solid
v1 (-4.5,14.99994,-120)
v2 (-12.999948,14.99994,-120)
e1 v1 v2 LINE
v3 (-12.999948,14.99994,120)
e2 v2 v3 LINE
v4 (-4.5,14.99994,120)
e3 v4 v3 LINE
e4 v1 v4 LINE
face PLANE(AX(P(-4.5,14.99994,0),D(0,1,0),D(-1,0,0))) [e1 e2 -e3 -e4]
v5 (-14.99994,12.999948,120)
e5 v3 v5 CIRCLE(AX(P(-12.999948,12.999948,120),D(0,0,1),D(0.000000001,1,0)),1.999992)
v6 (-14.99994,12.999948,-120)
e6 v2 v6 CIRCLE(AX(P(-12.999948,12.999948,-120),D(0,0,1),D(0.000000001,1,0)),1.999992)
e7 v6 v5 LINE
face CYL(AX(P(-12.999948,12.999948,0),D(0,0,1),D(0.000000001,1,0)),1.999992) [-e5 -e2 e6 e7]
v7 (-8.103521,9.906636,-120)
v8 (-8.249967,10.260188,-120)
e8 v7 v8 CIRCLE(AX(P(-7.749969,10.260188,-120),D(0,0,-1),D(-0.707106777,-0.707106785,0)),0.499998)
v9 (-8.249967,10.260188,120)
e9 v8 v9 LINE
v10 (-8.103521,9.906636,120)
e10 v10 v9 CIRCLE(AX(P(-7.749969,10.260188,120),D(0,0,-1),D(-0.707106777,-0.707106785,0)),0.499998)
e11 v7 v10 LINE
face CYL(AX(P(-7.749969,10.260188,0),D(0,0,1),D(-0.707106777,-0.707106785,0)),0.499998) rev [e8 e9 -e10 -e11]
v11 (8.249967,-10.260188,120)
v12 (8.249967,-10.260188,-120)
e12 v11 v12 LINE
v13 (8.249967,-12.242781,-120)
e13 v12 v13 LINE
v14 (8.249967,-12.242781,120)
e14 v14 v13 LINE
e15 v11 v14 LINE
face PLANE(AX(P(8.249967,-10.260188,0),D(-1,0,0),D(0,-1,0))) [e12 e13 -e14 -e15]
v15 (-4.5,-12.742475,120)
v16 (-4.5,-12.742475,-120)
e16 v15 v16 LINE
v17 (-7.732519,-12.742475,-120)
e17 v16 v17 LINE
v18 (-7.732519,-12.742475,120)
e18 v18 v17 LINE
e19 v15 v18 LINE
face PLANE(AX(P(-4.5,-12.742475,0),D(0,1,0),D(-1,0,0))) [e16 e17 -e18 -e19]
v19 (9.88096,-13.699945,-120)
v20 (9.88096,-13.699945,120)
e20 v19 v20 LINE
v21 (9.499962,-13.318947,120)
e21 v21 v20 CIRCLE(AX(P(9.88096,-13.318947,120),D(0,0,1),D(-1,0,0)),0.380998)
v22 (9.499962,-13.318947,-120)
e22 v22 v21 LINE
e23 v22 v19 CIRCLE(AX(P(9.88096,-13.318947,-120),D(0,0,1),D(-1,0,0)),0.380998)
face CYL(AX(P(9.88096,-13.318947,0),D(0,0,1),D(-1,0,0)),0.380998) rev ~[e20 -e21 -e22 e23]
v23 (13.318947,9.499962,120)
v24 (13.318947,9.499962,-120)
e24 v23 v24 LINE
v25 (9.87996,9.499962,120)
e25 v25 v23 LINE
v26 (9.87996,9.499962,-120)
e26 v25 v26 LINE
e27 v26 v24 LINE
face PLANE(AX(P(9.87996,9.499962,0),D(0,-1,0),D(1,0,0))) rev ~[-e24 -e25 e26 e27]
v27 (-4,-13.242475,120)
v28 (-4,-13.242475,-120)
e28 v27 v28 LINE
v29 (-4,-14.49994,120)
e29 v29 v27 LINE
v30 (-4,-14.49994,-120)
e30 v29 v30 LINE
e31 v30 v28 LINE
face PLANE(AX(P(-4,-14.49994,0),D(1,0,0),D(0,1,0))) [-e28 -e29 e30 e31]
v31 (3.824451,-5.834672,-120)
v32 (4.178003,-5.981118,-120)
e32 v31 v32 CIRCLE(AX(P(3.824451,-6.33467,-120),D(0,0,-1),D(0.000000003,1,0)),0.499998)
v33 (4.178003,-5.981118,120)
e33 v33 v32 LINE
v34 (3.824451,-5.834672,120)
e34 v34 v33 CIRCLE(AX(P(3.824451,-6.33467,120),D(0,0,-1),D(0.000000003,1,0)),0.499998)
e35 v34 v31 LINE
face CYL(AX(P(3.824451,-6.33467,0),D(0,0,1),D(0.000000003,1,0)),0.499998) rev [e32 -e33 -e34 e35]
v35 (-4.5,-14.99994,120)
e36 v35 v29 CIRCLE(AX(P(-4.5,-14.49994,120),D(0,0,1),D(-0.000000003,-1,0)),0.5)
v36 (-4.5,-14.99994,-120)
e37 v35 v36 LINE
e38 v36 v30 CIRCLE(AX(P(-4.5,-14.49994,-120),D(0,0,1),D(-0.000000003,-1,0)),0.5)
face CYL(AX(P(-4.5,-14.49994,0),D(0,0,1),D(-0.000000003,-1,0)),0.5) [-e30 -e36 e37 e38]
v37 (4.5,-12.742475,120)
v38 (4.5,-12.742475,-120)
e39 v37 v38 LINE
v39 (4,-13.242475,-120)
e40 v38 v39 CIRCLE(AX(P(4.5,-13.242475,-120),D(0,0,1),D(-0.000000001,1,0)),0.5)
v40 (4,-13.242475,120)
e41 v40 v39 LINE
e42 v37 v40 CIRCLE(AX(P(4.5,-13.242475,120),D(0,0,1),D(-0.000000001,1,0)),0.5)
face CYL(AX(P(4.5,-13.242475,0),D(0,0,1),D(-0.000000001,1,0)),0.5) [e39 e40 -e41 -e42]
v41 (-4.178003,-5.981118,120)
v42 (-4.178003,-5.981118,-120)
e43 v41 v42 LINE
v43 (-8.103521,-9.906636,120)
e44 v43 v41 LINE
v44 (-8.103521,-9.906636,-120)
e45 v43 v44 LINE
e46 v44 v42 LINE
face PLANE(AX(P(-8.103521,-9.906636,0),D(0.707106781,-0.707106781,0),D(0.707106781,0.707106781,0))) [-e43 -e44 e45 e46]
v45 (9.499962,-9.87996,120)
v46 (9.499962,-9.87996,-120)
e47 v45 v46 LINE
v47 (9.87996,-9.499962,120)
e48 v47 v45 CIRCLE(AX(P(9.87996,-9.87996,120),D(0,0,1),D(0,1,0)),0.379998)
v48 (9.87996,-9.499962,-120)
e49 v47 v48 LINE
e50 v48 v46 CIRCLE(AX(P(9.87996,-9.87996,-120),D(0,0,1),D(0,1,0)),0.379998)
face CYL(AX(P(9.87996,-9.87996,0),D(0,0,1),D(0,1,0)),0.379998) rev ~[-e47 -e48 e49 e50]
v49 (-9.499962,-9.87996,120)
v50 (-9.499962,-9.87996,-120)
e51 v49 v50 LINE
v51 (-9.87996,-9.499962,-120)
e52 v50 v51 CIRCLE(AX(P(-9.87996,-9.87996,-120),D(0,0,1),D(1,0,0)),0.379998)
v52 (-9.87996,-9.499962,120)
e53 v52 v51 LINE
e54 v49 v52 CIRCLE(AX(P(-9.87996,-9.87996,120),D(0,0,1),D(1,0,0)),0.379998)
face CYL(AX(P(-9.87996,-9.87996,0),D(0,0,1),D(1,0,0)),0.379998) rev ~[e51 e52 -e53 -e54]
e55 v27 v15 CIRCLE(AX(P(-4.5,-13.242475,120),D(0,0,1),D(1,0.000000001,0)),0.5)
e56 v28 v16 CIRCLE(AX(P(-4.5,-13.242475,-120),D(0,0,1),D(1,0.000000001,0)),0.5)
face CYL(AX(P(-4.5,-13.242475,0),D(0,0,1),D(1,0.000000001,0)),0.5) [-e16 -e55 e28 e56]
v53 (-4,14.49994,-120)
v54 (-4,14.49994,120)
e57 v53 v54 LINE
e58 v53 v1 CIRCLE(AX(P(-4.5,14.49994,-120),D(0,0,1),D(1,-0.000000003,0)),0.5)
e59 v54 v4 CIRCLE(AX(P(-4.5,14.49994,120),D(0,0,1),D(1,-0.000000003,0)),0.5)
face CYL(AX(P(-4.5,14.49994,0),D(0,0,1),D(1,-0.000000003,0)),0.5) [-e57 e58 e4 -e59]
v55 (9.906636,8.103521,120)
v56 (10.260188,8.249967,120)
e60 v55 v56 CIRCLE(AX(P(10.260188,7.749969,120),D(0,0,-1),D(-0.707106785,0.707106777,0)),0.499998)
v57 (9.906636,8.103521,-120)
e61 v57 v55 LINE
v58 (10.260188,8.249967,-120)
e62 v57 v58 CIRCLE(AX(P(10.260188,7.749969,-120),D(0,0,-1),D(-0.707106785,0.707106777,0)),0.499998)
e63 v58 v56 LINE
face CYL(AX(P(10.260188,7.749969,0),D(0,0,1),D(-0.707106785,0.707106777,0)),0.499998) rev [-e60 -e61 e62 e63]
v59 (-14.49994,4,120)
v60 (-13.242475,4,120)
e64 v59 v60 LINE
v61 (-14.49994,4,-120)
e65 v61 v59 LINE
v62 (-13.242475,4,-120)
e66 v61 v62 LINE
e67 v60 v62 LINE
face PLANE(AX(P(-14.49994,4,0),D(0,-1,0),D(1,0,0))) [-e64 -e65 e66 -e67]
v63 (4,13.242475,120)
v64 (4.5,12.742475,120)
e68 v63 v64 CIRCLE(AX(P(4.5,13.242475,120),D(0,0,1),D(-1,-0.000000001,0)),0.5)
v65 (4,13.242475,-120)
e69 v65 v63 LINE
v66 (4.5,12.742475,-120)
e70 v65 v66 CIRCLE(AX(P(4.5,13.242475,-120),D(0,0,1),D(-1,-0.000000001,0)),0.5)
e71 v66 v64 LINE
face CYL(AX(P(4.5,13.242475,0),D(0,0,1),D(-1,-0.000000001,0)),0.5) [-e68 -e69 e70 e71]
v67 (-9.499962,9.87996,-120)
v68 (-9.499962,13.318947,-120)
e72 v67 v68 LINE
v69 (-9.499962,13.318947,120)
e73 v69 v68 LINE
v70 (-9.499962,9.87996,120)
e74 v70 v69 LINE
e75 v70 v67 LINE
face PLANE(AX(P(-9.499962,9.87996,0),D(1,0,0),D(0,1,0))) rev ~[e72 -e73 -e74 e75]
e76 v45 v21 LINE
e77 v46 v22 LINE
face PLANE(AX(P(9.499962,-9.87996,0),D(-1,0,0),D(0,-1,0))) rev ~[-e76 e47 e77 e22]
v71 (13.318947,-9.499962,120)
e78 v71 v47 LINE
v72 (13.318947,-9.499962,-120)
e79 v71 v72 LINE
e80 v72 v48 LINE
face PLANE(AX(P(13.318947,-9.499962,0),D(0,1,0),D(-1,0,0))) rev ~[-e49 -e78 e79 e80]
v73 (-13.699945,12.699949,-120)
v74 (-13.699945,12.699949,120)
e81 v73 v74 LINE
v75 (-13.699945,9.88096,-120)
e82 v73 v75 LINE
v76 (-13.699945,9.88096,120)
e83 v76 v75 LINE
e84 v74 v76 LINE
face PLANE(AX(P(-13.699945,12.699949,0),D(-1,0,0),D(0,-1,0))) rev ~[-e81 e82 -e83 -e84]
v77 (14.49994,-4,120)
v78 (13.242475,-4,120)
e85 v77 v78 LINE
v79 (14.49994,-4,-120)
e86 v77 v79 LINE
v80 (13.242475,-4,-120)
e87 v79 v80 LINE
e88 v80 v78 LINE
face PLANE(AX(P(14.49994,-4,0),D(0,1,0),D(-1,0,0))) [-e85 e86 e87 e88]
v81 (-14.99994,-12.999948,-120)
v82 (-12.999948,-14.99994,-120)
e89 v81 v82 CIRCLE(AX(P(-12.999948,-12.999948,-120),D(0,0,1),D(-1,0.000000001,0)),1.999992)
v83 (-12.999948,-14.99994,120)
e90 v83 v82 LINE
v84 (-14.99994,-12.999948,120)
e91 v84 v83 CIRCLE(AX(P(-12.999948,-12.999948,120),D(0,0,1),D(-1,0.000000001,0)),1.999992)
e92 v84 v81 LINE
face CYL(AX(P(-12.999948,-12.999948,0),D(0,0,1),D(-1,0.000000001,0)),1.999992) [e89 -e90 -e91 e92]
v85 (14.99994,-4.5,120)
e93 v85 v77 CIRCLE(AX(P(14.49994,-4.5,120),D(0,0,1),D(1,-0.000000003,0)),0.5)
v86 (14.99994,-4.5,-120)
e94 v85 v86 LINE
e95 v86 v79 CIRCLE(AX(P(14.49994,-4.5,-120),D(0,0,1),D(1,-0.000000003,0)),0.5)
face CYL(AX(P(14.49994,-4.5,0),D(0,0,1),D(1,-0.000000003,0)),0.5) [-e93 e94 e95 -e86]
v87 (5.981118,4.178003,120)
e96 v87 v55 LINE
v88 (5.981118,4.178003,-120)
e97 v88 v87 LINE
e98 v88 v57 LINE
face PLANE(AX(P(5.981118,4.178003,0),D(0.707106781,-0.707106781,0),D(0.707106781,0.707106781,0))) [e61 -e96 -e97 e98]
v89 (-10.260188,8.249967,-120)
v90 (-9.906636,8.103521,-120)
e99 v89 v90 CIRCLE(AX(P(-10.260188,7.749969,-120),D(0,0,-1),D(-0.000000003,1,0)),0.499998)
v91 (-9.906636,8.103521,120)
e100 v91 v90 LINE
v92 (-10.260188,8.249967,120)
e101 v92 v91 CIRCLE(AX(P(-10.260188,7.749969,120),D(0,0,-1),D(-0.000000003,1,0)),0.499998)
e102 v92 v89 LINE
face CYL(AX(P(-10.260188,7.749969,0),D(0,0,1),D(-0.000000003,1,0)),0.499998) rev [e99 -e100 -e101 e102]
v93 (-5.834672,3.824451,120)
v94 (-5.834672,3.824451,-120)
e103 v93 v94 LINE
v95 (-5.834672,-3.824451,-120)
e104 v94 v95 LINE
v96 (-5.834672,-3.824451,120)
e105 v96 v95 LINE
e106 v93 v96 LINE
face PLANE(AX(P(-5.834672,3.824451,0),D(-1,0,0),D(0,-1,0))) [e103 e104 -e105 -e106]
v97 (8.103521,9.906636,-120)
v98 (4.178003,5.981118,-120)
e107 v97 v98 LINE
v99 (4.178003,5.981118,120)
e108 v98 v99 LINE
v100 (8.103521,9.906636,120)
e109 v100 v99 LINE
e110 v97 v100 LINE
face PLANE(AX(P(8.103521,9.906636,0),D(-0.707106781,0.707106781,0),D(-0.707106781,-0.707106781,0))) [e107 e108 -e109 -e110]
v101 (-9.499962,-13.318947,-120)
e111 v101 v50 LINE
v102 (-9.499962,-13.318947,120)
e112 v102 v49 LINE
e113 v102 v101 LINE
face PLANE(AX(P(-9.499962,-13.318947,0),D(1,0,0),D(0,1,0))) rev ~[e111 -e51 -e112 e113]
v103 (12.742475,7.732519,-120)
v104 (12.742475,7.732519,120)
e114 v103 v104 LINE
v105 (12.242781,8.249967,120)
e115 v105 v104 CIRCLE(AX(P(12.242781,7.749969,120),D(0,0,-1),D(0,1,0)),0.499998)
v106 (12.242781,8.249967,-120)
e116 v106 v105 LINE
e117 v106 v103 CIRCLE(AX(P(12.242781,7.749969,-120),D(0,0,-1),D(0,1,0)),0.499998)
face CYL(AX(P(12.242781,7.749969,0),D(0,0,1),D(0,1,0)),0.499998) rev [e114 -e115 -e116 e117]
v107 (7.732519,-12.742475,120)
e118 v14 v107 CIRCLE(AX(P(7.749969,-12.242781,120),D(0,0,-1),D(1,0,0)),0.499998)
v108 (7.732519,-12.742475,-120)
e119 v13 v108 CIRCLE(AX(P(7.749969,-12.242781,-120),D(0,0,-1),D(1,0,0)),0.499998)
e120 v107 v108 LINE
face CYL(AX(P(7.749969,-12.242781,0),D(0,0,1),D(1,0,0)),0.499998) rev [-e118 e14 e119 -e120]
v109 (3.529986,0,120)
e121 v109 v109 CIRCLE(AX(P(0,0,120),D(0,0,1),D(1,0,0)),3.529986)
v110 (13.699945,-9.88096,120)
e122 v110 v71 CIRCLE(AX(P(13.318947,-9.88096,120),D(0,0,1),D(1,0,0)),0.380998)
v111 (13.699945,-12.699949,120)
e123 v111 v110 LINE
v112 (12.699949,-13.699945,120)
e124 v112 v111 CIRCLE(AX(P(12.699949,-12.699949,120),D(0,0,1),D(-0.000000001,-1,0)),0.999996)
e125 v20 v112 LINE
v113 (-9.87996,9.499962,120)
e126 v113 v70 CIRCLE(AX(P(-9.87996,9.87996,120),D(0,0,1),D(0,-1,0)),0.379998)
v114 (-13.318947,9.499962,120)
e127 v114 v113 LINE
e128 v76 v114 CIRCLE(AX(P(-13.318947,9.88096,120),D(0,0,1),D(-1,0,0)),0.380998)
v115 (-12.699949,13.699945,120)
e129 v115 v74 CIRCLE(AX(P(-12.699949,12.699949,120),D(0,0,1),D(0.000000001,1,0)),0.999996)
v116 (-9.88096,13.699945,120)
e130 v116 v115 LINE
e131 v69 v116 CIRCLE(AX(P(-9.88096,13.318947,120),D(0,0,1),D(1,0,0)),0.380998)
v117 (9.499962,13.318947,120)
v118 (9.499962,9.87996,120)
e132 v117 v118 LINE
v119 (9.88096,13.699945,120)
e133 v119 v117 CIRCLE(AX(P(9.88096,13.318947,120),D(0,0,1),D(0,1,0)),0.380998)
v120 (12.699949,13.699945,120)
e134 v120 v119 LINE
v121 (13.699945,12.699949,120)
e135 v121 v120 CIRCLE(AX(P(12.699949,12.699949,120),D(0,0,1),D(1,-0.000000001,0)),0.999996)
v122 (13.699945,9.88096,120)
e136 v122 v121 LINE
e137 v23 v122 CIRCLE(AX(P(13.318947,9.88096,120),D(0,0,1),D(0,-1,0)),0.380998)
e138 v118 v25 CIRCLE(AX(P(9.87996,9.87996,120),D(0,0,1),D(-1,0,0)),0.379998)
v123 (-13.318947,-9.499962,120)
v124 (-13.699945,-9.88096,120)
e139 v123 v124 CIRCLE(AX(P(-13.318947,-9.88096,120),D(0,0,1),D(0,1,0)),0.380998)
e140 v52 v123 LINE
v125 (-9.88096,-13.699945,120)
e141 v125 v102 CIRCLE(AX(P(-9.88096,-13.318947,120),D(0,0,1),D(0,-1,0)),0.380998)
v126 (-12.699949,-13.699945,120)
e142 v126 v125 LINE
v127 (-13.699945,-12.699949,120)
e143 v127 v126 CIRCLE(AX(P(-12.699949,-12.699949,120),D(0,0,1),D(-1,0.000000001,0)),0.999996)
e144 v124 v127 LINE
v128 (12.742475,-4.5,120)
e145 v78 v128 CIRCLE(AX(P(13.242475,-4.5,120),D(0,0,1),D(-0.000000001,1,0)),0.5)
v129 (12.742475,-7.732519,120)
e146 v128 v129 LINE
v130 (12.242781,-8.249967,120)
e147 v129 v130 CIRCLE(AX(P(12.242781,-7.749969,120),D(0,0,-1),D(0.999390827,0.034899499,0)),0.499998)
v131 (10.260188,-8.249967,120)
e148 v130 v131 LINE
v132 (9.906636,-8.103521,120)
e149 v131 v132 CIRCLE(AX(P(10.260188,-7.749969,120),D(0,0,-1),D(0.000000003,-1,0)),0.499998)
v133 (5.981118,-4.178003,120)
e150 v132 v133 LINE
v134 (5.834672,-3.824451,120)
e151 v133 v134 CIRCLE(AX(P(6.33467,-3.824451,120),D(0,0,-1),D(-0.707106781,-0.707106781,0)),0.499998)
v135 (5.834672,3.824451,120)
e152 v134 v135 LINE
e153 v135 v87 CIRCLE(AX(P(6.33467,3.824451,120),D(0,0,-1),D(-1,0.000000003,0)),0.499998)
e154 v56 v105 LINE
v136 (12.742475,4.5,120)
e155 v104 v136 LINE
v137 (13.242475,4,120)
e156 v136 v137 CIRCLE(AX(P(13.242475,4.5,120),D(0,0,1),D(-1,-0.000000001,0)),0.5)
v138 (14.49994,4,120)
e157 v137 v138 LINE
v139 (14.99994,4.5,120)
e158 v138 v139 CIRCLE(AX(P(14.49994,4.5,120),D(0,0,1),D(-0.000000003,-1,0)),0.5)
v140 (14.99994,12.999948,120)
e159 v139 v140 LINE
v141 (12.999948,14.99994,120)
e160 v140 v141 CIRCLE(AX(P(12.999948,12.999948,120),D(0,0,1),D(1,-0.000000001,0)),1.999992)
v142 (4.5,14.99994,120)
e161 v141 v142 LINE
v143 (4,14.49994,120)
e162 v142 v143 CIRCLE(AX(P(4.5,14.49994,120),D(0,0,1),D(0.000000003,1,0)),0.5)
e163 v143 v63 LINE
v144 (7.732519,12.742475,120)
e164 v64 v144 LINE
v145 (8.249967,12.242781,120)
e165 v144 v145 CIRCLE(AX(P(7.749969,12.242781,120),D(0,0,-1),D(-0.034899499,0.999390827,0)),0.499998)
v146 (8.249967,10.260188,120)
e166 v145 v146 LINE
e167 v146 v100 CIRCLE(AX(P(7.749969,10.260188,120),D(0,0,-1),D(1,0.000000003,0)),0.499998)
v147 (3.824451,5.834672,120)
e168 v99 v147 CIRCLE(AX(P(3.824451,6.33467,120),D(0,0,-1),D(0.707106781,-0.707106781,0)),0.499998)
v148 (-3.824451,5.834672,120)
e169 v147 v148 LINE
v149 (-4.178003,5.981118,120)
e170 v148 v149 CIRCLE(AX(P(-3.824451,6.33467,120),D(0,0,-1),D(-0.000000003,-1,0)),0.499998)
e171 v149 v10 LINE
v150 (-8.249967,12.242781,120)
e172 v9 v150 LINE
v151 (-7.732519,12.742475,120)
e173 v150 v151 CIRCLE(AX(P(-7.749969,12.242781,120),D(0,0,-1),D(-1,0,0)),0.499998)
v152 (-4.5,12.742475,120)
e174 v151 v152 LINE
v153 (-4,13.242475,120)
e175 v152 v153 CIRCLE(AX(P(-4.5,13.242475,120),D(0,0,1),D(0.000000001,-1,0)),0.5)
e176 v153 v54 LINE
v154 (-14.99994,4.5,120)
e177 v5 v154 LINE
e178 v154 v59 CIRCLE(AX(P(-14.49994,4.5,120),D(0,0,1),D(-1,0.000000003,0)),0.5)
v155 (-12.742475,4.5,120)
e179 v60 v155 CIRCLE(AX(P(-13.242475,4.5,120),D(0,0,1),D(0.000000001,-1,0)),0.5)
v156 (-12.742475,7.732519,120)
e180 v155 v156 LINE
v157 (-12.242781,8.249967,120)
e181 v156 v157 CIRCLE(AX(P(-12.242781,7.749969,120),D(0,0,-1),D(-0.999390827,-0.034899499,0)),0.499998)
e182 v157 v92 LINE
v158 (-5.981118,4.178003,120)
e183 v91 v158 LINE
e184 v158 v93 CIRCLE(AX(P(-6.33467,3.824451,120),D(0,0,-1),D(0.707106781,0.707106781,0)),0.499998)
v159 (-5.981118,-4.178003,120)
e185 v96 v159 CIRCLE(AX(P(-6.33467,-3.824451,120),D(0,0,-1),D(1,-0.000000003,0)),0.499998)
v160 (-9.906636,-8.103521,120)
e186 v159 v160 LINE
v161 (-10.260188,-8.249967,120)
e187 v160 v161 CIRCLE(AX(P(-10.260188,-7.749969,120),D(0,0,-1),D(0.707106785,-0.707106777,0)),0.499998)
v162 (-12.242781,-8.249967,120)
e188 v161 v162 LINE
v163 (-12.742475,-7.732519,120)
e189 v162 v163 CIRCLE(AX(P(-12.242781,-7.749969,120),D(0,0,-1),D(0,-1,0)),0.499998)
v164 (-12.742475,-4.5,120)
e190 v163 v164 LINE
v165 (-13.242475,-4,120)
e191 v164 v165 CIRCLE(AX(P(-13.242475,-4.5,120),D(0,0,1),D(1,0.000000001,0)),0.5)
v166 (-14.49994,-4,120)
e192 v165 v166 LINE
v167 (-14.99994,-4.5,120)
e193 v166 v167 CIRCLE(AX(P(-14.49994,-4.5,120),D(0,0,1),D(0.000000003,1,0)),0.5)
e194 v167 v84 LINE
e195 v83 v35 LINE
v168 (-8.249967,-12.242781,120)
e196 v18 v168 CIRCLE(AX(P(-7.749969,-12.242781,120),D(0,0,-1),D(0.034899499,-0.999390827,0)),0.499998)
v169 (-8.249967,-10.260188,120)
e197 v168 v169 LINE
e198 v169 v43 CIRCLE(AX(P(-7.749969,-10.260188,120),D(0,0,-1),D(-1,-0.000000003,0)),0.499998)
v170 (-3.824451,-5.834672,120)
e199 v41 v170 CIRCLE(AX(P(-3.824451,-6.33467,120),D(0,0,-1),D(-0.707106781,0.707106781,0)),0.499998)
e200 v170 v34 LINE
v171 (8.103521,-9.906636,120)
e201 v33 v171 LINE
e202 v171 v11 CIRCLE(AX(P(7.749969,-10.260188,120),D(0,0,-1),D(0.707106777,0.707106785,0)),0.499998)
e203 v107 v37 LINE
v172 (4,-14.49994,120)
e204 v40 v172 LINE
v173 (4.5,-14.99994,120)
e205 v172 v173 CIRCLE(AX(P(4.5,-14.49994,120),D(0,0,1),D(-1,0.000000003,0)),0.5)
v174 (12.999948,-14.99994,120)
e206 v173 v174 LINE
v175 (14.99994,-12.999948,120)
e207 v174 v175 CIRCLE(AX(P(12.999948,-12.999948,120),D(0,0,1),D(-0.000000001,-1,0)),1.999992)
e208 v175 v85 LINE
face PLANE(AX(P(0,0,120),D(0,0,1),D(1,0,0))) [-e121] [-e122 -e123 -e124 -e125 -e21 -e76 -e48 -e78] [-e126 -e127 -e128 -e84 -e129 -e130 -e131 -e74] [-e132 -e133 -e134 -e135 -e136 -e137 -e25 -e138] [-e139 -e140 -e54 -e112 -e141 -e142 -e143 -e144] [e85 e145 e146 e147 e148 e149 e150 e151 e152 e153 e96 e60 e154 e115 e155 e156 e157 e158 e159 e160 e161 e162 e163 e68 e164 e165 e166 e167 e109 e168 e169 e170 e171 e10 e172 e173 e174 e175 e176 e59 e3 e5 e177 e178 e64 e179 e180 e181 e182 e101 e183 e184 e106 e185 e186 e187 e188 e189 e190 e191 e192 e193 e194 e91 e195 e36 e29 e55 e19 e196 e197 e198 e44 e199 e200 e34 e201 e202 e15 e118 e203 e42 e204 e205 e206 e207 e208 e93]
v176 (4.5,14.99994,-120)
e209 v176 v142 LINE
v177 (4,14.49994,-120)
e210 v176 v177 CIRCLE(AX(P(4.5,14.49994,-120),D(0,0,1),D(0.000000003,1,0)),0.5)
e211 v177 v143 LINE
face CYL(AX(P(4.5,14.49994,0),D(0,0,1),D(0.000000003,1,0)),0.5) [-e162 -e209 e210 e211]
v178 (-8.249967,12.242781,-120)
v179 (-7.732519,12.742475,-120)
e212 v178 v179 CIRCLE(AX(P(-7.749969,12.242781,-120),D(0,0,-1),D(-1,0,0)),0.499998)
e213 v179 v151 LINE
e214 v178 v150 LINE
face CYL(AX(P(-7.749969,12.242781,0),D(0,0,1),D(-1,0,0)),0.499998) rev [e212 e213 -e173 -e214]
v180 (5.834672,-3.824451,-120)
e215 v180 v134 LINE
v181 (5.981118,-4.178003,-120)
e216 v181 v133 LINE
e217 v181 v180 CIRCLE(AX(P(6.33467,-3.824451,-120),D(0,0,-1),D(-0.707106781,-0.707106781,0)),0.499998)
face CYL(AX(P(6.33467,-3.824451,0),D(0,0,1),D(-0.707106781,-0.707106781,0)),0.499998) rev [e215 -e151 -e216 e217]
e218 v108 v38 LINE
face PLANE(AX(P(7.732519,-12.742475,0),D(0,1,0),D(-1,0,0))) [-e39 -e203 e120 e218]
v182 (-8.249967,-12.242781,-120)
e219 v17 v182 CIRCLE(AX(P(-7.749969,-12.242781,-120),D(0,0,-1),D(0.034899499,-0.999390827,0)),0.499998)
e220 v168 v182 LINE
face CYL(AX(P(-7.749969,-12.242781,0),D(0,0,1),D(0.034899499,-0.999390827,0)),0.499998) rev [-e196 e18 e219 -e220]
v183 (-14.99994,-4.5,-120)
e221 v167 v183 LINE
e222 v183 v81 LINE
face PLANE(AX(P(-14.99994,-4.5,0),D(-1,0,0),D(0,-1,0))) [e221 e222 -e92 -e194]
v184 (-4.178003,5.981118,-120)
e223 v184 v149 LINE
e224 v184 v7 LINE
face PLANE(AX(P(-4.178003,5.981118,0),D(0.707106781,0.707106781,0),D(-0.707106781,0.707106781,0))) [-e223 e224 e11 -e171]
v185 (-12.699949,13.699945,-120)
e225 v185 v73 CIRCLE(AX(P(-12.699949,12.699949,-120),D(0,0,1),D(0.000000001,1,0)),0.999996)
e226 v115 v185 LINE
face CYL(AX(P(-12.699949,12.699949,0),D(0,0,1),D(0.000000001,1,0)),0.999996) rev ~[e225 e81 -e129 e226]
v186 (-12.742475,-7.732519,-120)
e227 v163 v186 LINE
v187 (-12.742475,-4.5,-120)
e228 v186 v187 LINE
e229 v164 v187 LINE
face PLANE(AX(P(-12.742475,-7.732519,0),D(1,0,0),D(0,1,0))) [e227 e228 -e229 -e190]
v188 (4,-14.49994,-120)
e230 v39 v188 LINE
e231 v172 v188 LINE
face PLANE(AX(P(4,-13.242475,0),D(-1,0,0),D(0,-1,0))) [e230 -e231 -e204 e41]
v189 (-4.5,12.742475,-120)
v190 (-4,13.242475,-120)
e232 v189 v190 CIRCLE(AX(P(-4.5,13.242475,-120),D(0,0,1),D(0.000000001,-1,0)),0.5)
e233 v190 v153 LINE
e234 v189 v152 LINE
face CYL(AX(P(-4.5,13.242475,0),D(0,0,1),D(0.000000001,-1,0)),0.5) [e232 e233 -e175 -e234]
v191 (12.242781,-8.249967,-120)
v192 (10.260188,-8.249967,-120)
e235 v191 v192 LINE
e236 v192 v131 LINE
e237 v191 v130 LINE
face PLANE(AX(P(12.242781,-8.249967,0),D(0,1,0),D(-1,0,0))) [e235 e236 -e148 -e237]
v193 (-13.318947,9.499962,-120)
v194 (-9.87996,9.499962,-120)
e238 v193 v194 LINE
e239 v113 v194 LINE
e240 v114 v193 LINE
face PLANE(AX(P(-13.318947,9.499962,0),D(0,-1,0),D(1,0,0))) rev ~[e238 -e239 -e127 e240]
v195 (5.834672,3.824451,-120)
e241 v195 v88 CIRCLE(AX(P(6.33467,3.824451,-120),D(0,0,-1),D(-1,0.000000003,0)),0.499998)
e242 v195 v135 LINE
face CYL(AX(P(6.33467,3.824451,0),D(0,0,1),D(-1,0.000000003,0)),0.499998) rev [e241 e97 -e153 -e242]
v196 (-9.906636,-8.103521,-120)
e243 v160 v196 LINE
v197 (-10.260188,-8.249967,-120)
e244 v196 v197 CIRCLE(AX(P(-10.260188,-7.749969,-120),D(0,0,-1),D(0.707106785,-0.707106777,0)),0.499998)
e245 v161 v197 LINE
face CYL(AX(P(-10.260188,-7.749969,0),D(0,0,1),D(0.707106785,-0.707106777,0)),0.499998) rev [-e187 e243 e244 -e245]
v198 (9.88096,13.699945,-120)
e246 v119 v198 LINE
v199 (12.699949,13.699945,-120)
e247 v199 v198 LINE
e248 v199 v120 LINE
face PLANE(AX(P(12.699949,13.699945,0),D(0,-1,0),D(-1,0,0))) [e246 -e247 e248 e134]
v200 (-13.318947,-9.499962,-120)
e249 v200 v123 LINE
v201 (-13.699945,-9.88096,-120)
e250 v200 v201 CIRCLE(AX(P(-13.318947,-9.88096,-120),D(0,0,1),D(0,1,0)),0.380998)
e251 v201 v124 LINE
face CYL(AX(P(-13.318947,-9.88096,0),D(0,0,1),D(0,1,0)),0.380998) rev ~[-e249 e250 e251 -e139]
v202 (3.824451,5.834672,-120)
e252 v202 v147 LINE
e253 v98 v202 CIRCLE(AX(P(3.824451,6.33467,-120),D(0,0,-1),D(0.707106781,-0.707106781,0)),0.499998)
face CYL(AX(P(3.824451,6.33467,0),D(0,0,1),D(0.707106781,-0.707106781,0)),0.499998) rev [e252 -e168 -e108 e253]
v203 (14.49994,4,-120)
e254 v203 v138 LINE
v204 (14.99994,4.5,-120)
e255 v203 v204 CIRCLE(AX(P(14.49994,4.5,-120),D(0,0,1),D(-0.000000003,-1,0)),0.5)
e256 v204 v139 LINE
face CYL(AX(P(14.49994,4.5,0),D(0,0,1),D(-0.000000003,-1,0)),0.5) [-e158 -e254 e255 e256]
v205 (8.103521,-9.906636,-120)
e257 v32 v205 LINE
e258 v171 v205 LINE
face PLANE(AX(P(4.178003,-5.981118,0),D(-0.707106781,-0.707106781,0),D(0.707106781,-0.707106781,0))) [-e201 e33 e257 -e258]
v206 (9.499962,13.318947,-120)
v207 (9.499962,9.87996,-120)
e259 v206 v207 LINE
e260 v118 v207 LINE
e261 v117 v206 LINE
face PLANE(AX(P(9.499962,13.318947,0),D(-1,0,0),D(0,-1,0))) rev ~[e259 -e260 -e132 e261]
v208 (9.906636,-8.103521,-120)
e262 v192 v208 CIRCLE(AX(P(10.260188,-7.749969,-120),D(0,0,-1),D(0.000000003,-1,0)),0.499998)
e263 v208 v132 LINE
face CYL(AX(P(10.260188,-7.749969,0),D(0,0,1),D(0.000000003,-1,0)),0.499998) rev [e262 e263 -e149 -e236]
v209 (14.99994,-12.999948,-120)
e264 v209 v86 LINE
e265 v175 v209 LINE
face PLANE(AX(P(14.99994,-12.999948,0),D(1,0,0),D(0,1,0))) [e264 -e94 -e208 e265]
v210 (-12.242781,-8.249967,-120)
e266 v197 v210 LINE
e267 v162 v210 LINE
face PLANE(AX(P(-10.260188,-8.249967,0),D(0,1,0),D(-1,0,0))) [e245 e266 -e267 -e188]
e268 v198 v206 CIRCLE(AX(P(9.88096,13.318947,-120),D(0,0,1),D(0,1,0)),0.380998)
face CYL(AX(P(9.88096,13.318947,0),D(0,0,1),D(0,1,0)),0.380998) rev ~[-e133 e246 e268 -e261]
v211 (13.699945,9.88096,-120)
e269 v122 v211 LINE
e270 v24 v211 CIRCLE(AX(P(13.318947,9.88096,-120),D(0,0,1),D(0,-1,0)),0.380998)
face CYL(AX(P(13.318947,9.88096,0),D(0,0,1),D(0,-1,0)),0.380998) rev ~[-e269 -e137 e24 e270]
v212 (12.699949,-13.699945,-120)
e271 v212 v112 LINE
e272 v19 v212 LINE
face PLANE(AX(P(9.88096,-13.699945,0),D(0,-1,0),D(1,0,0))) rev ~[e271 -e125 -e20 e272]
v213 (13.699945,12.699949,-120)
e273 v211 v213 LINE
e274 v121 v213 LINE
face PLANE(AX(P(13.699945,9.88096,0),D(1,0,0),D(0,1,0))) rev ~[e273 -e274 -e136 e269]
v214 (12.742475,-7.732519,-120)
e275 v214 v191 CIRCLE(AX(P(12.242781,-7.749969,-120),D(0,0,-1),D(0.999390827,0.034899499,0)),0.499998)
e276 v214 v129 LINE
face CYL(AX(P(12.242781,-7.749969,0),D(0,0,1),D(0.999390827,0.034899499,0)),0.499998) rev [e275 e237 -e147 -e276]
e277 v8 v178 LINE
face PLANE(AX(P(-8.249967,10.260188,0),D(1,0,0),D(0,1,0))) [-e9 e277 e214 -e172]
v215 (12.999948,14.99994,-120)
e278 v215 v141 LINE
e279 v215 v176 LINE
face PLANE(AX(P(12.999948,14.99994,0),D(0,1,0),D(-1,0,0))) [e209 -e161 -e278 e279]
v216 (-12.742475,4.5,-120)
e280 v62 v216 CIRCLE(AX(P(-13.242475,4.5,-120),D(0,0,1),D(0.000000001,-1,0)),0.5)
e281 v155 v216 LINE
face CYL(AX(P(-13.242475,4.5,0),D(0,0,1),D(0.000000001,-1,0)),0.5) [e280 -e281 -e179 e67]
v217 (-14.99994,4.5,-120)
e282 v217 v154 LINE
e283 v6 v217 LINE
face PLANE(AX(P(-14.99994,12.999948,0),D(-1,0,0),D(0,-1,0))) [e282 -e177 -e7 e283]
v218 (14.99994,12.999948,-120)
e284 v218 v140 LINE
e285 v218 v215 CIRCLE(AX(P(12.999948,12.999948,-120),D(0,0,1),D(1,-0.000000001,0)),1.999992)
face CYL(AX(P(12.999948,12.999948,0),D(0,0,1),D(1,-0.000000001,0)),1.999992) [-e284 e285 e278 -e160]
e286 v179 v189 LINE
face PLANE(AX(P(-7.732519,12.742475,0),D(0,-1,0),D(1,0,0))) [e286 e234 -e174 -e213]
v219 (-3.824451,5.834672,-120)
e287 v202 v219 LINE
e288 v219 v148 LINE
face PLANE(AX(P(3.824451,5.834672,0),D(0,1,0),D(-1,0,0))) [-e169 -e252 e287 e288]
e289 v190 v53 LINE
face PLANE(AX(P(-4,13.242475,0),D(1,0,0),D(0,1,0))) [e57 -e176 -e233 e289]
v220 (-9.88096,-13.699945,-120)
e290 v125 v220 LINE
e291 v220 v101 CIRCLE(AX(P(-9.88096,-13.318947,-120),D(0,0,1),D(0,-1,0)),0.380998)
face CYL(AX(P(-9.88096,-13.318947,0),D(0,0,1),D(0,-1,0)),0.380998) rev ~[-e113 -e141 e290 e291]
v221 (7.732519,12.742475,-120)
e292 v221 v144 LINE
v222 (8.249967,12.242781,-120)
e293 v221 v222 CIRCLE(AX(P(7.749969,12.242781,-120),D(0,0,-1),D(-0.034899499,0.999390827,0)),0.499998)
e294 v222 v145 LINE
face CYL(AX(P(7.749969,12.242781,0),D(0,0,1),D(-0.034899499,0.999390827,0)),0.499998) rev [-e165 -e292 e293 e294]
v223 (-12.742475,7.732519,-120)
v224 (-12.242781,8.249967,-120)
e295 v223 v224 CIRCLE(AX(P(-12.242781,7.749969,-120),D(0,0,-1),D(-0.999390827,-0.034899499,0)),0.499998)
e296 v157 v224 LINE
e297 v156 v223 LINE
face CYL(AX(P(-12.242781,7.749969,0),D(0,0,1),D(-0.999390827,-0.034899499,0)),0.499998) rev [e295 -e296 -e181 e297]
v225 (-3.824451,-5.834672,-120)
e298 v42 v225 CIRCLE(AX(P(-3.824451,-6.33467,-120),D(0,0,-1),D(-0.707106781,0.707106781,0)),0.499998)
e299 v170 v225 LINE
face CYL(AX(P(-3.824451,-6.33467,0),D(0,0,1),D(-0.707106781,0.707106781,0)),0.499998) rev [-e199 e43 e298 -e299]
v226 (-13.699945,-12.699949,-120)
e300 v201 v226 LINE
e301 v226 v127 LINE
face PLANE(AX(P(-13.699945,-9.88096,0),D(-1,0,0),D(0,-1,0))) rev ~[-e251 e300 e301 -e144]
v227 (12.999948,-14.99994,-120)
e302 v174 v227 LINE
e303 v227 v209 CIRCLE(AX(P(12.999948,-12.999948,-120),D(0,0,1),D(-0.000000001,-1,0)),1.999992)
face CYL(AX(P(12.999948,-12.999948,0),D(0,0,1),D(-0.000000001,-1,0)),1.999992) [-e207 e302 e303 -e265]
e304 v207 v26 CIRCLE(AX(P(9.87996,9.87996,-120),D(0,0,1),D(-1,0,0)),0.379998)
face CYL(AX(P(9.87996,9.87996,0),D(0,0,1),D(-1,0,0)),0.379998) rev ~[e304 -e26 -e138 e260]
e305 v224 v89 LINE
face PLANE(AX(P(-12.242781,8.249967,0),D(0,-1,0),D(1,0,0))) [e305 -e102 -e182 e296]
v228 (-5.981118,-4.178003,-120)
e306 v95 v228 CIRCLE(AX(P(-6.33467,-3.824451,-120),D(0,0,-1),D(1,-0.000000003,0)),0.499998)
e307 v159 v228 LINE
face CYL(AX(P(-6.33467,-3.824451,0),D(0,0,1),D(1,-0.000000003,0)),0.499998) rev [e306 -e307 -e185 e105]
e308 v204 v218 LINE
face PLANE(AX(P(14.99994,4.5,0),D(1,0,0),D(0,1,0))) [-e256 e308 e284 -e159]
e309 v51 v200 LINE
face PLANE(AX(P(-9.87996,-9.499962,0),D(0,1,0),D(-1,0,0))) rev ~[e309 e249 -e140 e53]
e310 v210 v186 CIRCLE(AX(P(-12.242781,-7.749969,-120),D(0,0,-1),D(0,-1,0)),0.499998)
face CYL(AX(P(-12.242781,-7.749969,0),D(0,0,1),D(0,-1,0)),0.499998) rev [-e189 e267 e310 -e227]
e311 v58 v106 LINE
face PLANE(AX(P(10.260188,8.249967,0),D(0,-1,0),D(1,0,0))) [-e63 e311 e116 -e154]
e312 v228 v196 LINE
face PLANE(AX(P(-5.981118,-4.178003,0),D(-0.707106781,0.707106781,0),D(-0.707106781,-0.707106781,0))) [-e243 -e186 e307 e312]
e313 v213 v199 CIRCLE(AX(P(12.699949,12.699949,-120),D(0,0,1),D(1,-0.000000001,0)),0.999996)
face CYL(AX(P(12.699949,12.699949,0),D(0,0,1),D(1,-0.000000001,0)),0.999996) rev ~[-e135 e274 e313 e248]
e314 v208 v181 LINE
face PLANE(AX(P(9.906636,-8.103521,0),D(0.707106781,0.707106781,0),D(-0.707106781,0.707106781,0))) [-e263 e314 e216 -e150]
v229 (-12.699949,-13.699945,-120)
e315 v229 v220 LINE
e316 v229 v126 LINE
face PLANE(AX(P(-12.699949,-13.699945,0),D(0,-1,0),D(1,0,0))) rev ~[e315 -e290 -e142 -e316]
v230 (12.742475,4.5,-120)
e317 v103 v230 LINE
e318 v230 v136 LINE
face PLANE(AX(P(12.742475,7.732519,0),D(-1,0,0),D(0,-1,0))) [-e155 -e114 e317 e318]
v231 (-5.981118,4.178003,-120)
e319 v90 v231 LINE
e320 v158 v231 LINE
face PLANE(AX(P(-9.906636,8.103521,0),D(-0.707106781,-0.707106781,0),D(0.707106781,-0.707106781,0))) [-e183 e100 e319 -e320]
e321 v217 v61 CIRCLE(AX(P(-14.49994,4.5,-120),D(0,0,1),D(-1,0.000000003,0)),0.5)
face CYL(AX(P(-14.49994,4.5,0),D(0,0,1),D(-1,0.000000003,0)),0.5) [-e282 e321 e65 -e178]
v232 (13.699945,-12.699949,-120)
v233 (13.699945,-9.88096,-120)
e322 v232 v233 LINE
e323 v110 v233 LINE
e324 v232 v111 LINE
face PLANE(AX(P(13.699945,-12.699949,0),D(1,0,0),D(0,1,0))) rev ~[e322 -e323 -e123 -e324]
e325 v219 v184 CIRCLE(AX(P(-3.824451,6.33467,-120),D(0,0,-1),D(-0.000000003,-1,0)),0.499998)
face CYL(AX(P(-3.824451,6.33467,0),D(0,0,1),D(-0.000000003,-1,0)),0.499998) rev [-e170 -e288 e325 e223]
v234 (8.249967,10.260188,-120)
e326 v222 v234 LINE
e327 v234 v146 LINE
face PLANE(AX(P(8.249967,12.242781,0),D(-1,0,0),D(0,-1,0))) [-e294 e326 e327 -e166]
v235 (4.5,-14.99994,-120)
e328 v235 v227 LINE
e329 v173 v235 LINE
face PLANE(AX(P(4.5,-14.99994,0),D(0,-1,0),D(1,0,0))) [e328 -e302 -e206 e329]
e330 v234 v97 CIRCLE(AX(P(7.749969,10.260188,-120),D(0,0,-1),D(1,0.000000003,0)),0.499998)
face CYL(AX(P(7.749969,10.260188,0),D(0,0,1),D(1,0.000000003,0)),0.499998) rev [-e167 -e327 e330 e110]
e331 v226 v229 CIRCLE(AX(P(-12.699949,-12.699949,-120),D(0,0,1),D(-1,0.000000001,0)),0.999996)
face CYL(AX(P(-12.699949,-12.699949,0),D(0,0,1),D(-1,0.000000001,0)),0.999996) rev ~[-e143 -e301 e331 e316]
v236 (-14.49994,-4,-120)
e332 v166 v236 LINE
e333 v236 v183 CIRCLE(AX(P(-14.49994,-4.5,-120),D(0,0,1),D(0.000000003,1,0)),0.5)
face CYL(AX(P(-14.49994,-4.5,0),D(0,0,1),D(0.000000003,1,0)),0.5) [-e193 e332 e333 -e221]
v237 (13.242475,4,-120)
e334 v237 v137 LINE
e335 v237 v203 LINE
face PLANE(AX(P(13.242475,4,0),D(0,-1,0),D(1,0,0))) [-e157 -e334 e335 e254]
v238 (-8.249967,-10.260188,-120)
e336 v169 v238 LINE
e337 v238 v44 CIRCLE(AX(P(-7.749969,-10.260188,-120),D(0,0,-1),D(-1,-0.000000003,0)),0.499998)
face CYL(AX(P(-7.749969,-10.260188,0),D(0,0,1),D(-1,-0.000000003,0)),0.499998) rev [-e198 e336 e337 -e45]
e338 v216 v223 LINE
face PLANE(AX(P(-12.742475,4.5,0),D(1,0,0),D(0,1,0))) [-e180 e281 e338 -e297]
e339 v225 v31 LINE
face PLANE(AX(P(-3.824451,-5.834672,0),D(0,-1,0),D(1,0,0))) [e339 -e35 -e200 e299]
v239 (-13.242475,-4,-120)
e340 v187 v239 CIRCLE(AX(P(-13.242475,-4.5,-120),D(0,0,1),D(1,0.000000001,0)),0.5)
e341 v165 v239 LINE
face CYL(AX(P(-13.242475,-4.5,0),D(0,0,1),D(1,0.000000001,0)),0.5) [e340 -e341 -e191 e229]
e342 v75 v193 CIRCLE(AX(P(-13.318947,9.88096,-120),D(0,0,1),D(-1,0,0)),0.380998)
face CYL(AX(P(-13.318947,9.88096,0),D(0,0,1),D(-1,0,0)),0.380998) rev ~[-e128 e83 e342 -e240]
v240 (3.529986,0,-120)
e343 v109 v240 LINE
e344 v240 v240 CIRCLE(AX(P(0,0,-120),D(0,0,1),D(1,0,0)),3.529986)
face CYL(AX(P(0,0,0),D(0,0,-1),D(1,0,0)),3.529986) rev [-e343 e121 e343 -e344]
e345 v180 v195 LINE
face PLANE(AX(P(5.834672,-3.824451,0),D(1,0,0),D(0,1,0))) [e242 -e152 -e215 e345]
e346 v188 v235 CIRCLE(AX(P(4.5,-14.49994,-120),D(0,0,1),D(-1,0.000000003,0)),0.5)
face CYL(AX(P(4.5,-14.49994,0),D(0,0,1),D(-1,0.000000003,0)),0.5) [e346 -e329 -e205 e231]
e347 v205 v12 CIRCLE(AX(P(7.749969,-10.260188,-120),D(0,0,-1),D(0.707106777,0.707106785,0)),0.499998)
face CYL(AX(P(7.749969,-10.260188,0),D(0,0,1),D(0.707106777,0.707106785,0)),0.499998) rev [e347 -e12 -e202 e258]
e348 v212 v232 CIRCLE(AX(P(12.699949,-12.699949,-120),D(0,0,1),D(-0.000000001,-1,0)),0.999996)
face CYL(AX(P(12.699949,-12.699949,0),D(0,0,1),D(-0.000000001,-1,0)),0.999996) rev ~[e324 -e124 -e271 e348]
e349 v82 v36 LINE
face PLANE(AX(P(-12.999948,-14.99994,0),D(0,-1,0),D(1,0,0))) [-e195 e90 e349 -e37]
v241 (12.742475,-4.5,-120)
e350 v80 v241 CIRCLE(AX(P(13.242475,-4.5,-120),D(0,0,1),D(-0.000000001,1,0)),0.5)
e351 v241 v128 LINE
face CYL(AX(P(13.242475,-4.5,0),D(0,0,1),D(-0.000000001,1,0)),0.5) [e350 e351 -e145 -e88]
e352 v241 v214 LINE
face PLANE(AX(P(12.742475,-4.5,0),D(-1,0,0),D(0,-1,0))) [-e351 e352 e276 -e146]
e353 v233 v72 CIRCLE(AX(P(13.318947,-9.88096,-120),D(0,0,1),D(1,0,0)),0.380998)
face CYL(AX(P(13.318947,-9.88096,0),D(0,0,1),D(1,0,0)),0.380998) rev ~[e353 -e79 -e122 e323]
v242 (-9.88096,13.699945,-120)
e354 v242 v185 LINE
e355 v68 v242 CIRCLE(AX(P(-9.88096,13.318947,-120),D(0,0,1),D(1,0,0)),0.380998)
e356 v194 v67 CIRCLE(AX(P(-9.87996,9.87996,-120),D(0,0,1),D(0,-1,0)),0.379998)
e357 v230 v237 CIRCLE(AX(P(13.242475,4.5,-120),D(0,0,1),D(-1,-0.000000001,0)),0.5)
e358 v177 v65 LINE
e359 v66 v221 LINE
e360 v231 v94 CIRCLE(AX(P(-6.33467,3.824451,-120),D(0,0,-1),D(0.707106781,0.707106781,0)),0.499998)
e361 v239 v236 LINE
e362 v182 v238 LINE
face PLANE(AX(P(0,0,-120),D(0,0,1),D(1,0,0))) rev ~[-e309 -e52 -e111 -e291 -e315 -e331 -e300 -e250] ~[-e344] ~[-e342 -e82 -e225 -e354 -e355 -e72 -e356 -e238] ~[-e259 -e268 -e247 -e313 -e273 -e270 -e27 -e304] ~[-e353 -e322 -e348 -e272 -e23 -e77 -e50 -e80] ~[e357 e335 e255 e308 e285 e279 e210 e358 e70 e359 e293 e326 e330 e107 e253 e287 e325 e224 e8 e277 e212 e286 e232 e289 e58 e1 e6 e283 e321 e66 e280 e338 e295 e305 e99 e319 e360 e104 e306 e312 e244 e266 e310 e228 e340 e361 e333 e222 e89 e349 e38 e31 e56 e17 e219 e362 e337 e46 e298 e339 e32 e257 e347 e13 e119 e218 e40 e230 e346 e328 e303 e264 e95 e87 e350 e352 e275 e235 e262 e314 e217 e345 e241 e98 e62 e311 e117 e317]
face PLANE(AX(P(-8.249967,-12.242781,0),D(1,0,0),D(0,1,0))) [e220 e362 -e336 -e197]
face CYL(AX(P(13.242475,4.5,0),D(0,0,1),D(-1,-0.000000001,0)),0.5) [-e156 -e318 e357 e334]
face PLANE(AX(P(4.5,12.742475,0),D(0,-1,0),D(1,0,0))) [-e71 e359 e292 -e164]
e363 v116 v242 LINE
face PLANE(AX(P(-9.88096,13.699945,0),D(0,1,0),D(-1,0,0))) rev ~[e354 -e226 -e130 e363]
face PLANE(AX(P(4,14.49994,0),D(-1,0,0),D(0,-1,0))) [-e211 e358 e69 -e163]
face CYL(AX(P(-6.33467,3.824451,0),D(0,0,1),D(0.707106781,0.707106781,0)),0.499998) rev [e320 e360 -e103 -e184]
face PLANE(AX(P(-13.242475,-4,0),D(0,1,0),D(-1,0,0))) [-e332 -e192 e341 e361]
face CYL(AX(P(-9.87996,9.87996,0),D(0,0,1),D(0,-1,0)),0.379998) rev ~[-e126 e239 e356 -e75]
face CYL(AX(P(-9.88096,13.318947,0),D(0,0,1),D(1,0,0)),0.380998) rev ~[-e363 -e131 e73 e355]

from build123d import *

# Parameters (mm, degrees)
SKETCH1_R           = 3.52998588
BOSS_EXTRUDE1_DEPTH = 120


with BuildPart() as part:
    # Sketch1 → Boss-Extrude1 (new, symmetric)
    with BuildSketch(Plane.XY):
        with BuildLine():
            Line((14.49994, -4), (13.24247465, -4))
            ThreePointArc((13.24247465, -4), (12.88892126, -4.146446609), (12.74247465, -4.5))
            Line((12.74247465, -4.5), (12.74247465, -7.732519321))
            ThreePointArc((12.74247465, -7.732519321), (12.602449697, -8.097296796), (12.242781236, -8.249967))
            Line((12.242781236, -8.249967), (10.260188032, -8.249967))
            ThreePointArc((10.260188032, -8.249967), (10.068847082, -8.211906919), (9.906636056, -8.103520976))
            Line((9.906636056, -8.103520976), (5.981117769, -4.178002689))
            ThreePointArc((5.981117769, -4.178002689), (5.872731827, -4.015791664), (5.834671745, -3.824450713))
            Line((5.834671745, -3.824450713), (5.834671745, -1.01249595))
            Line((5.834671745, -1.01249595), (5.834671745, 0.88749645))
            Line((5.834671745, 0.88749645), (5.834671745, 3.824450713))
            ThreePointArc((5.834671745, 3.824450713), (5.872731827, 4.015791664), (5.981117769, 4.178002689))
            Line((5.981117769, 4.178002689), (9.906636056, 8.103520976))
            ThreePointArc((9.906636056, 8.103520976), (10.068847082, 8.211906919), (10.260188032, 8.249967))
            Line((10.260188032, 8.249967), (12.242781236, 8.249967))
            ThreePointArc((12.242781236, 8.249967), (12.602449697, 8.097296796), (12.74247465, 7.732519321))
            Line((12.74247465, 7.732519321), (12.74247465, 4.5))
            ThreePointArc((12.74247465, 4.5), (12.88892126, 4.146446609), (13.24247465, 4))
            Line((13.24247465, 4), (14.49994, 4))
            ThreePointArc((14.49994, 4), (14.853493391, 4.146446609), (14.99994, 4.5))
            Line((14.99994, 4.5), (14.99994, 12.999948))
            ThreePointArc((14.99994, 12.999948), (14.414155906, 14.414155906), (12.999948, 14.99994))
            Line((12.999948, 14.99994), (4.5, 14.99994))
            ThreePointArc((4.5, 14.99994), (4.146446609, 14.853493391), (4, 14.49994))
            Line((4, 14.49994), (4, 13.24247465))
            ThreePointArc((4, 13.24247465), (4.146446609, 12.88892126), (4.5, 12.74247465))
            Line((4.5, 12.74247465), (7.732519321, 12.74247465))
            ThreePointArc((7.732519321, 12.74247465), (8.097296796, 12.602449697), (8.249967, 12.242781236))
            Line((8.249967, 12.242781236), (8.249967, 10.260188032))
            ThreePointArc((8.249967, 10.260188032), (8.211906919, 10.068847082), (8.103520976, 9.906636056))
            Line((8.103520976, 9.906636056), (4.178002689, 5.981117769))
            ThreePointArc((4.178002689, 5.981117769), (4.015791664, 5.872731827), (3.824450713, 5.834671745))
            Line((3.824450713, 5.834671745), (0.9499962, 5.834671745))
            Line((0.9499962, 5.834671745), (-0.9499962, 5.834671745))
            Line((-0.9499962, 5.834671745), (-3.824450713, 5.834671745))
            ThreePointArc((-3.824450713, 5.834671745), (-4.015791664, 5.872731827), (-4.178002689, 5.981117769))
            Line((-4.178002689, 5.981117769), (-8.103520976, 9.906636056))
            ThreePointArc((-8.103520976, 9.906636056), (-8.211906919, 10.068847082), (-8.249967, 10.260188032))
            Line((-8.249967, 10.260188032), (-8.249967, 12.242781236))
            ThreePointArc((-8.249967, 12.242781236), (-8.097296796, 12.602449697), (-7.732519321, 12.74247465))
            Line((-7.732519321, 12.74247465), (-4.5, 12.74247465))
            ThreePointArc((-4.5, 12.74247465), (-4.146446609, 12.88892126), (-4, 13.24247465))
            Line((-4, 13.24247465), (-4, 14.49994))
            ThreePointArc((-4, 14.49994), (-4.146446609, 14.853493391), (-4.5, 14.99994))
            Line((-4.5, 14.99994), (-12.999948, 14.99994))
            ThreePointArc((-12.999948, 14.99994), (-14.414155906, 14.414155906), (-14.99994, 12.999948))
            Line((-14.99994, 12.999948), (-14.99994, 4.5))
            ThreePointArc((-14.99994, 4.5), (-14.853493391, 4.146446609), (-14.49994, 4))
            Line((-14.49994, 4), (-13.24247465, 4))
            ThreePointArc((-13.24247465, 4), (-12.88892126, 4.146446609), (-12.74247465, 4.5))
            Line((-12.74247465, 4.5), (-12.74247465, 7.732519321))
            ThreePointArc((-12.74247465, 7.732519321), (-12.602449697, 8.097296796), (-12.242781236, 8.249967))
            Line((-12.242781236, 8.249967), (-10.260188032, 8.249967))
            ThreePointArc((-10.260188032, 8.249967), (-10.068847082, 8.211906919), (-9.906636056, 8.103520976))
            Line((-9.906636056, 8.103520976), (-5.981117769, 4.178002689))
            ThreePointArc((-5.981117769, 4.178002689), (-5.872731827, 4.015791664), (-5.834671745, 3.824450713))
            Line((-5.834671745, 3.824450713), (-5.834671745, 0.88749645))
            Line((-5.834671745, 0.88749645), (-5.834671745, -1.01249595))
            Line((-5.834671745, -1.01249595), (-5.834671745, -3.824450713))
            ThreePointArc((-5.834671745, -3.824450713), (-5.872731827, -4.015791664), (-5.981117769, -4.178002689))
            Line((-5.981117769, -4.178002689), (-9.906636056, -8.103520976))
            ThreePointArc((-9.906636056, -8.103520976), (-10.068847082, -8.211906919), (-10.260188032, -8.249967))
            Line((-10.260188032, -8.249967), (-12.242781236, -8.249967))
            ThreePointArc((-12.242781236, -8.249967), (-12.602449697, -8.097296796), (-12.74247465, -7.732519321))
            Line((-12.74247465, -7.732519321), (-12.74247465, -4.5))
            ThreePointArc((-12.74247465, -4.5), (-12.88892126, -4.146446609), (-13.24247465, -4))
            Line((-13.24247465, -4), (-14.49994, -4))
            ThreePointArc((-14.49994, -4), (-14.853493391, -4.146446609), (-14.99994, -4.5))
            Line((-14.99994, -4.5), (-14.99994, -12.999948))
            ThreePointArc((-14.99994, -12.999948), (-14.414155906, -14.414155906), (-12.999948, -14.99994))
            Line((-12.999948, -14.99994), (-4.5, -14.99994))
            ThreePointArc((-4.5, -14.99994), (-4.146446609, -14.853493391), (-4, -14.49994))
            Line((-4, -14.49994), (-4, -13.24247465))
            ThreePointArc((-4, -13.24247465), (-4.146446609, -12.88892126), (-4.5, -12.74247465))
            Line((-4.5, -12.74247465), (-7.732519321, -12.74247465))
            ThreePointArc((-7.732519321, -12.74247465), (-8.097296796, -12.602449697), (-8.249967, -12.242781236))
            Line((-8.249967, -12.242781236), (-8.249967, -10.260188032))
            ThreePointArc((-8.249967, -10.260188032), (-8.211906919, -10.068847082), (-8.103520976, -9.906636056))
            Line((-8.103520976, -9.906636056), (-4.178002689, -5.981117769))
            ThreePointArc((-4.178002689, -5.981117769), (-4.015791664, -5.872731827), (-3.824450713, -5.834671745))
            Line((-3.824450713, -5.834671745), (-0.9499962, -5.834671745))
            Line((-0.9499962, -5.834671745), (0.9499962, -5.834671745))
            Line((0.9499962, -5.834671745), (3.824450713, -5.834671745))
            ThreePointArc((3.824450713, -5.834671745), (4.015791664, -5.872731827), (4.178002689, -5.981117769))
            Line((4.178002689, -5.981117769), (8.103520976, -9.906636056))
            ThreePointArc((8.103520976, -9.906636056), (8.211906919, -10.068847082), (8.249967, -10.260188032))
            Line((8.249967, -10.260188032), (8.249967, -12.242781236))
            ThreePointArc((8.249967, -12.242781236), (8.097296796, -12.602449697), (7.732519321, -12.74247465))
            Line((7.732519321, -12.74247465), (4.5, -12.74247465))
            ThreePointArc((4.5, -12.74247465), (4.146446609, -12.88892126), (4, -13.24247465))
            Line((4, -13.24247465), (4, -14.49994))
            ThreePointArc((4, -14.49994), (4.146446609, -14.853493391), (4.5, -14.99994))
            Line((4.5, -14.99994), (12.999948, -14.99994))
            ThreePointArc((12.999948, -14.99994), (14.414155906, -14.414155906), (14.99994, -12.999948))
            Line((14.99994, -12.999948), (14.99994, -4.5))
            ThreePointArc((14.99994, -4.5), (14.853493391, -4.146446609), (14.49994, -4))
        make_face()
        Circle(SKETCH1_R, mode=Mode.SUBTRACT)
        with BuildLine():
            Line((-12.6999492, -13.6999452), (-9.880960476, -13.6999452))
            ThreePointArc((-9.880960476, -13.6999452), (-9.61155387, -13.58835333), (-9.499962, -13.318946724))
            Line((-9.499962, -13.318946724), (-9.499962, -9.87996048))
            ThreePointArc((-9.499962, -9.87996048), (-9.611260978, -9.611260978), (-9.87996048, -9.499962))
            Line((-9.87996048, -9.499962), (-13.318946724, -9.499962))
            ThreePointArc((-13.318946724, -9.499962), (-13.58835333, -9.61155387), (-13.6999452, -9.880960476))
            Line((-13.6999452, -9.880960476), (-13.6999452, -12.6999492))
            ThreePointArc((-13.6999452, -12.6999492), (-13.407053153, -13.407053153), (-12.6999492, -13.6999452))
        make_face(mode=Mode.SUBTRACT)
        with BuildLine():
            Line((13.6999452, -12.6999492), (13.6999452, -9.880960476))
            ThreePointArc((13.6999452, -9.880960476), (13.58835333, -9.61155387), (13.318946724, -9.499962))
            Line((13.318946724, -9.499962), (9.87996048, -9.499962))
            ThreePointArc((9.87996048, -9.499962), (9.611260978, -9.611260978), (9.499962, -9.87996048))
            Line((9.499962, -9.87996048), (9.499962, -13.318946724))
            ThreePointArc((9.499962, -13.318946724), (9.61155387, -13.58835333), (9.880960476, -13.6999452))
            Line((9.880960476, -13.6999452), (12.6999492, -13.6999452))
            ThreePointArc((12.6999492, -13.6999452), (13.407053153, -13.407053153), (13.6999452, -12.6999492))
        make_face(mode=Mode.SUBTRACT)
        with BuildLine():
            Line((9.87996048, 9.499962), (13.318946724, 9.499962))
            ThreePointArc((13.318946724, 9.499962), (13.58835333, 9.61155387), (13.6999452, 9.880960476))
            Line((13.6999452, 9.880960476), (13.6999452, 12.6999492))
            ThreePointArc((13.6999452, 12.6999492), (13.407053153, 13.407053153), (12.6999492, 13.6999452))
            Line((12.6999492, 13.6999452), (9.880960476, 13.6999452))
            ThreePointArc((9.880960476, 13.6999452), (9.61155387, 13.58835333), (9.499962, 13.318946724))
            Line((9.499962, 13.318946724), (9.499962, 9.87996048))
            ThreePointArc((9.499962, 9.87996048), (9.611260978, 9.611260978), (9.87996048, 9.499962))
        make_face(mode=Mode.SUBTRACT)
        with BuildLine():
            Line((-13.6999452, 12.6999492), (-13.6999452, 9.880960476))
            ThreePointArc((-13.6999452, 9.880960476), (-13.58835333, 9.61155387), (-13.318946724, 9.499962))
            Line((-13.318946724, 9.499962), (-9.87996048, 9.499962))
            ThreePointArc((-9.87996048, 9.499962), (-9.611260978, 9.611260978), (-9.499962, 9.87996048))
            Line((-9.499962, 9.87996048), (-9.499962, 13.318946724))
            ThreePointArc((-9.499962, 13.318946724), (-9.61155387, 13.58835333), (-9.880960476, 13.6999452))
            Line((-9.880960476, 13.6999452), (-12.6999492, 13.6999452))
            ThreePointArc((-12.6999492, 13.6999452), (-13.407053153, 13.407053153), (-13.6999452, 12.6999492))
        make_face(mode=Mode.SUBTRACT)
    extrude(amount=BOSS_EXTRUDE1_DEPTH, both=True)


solid = part.part
